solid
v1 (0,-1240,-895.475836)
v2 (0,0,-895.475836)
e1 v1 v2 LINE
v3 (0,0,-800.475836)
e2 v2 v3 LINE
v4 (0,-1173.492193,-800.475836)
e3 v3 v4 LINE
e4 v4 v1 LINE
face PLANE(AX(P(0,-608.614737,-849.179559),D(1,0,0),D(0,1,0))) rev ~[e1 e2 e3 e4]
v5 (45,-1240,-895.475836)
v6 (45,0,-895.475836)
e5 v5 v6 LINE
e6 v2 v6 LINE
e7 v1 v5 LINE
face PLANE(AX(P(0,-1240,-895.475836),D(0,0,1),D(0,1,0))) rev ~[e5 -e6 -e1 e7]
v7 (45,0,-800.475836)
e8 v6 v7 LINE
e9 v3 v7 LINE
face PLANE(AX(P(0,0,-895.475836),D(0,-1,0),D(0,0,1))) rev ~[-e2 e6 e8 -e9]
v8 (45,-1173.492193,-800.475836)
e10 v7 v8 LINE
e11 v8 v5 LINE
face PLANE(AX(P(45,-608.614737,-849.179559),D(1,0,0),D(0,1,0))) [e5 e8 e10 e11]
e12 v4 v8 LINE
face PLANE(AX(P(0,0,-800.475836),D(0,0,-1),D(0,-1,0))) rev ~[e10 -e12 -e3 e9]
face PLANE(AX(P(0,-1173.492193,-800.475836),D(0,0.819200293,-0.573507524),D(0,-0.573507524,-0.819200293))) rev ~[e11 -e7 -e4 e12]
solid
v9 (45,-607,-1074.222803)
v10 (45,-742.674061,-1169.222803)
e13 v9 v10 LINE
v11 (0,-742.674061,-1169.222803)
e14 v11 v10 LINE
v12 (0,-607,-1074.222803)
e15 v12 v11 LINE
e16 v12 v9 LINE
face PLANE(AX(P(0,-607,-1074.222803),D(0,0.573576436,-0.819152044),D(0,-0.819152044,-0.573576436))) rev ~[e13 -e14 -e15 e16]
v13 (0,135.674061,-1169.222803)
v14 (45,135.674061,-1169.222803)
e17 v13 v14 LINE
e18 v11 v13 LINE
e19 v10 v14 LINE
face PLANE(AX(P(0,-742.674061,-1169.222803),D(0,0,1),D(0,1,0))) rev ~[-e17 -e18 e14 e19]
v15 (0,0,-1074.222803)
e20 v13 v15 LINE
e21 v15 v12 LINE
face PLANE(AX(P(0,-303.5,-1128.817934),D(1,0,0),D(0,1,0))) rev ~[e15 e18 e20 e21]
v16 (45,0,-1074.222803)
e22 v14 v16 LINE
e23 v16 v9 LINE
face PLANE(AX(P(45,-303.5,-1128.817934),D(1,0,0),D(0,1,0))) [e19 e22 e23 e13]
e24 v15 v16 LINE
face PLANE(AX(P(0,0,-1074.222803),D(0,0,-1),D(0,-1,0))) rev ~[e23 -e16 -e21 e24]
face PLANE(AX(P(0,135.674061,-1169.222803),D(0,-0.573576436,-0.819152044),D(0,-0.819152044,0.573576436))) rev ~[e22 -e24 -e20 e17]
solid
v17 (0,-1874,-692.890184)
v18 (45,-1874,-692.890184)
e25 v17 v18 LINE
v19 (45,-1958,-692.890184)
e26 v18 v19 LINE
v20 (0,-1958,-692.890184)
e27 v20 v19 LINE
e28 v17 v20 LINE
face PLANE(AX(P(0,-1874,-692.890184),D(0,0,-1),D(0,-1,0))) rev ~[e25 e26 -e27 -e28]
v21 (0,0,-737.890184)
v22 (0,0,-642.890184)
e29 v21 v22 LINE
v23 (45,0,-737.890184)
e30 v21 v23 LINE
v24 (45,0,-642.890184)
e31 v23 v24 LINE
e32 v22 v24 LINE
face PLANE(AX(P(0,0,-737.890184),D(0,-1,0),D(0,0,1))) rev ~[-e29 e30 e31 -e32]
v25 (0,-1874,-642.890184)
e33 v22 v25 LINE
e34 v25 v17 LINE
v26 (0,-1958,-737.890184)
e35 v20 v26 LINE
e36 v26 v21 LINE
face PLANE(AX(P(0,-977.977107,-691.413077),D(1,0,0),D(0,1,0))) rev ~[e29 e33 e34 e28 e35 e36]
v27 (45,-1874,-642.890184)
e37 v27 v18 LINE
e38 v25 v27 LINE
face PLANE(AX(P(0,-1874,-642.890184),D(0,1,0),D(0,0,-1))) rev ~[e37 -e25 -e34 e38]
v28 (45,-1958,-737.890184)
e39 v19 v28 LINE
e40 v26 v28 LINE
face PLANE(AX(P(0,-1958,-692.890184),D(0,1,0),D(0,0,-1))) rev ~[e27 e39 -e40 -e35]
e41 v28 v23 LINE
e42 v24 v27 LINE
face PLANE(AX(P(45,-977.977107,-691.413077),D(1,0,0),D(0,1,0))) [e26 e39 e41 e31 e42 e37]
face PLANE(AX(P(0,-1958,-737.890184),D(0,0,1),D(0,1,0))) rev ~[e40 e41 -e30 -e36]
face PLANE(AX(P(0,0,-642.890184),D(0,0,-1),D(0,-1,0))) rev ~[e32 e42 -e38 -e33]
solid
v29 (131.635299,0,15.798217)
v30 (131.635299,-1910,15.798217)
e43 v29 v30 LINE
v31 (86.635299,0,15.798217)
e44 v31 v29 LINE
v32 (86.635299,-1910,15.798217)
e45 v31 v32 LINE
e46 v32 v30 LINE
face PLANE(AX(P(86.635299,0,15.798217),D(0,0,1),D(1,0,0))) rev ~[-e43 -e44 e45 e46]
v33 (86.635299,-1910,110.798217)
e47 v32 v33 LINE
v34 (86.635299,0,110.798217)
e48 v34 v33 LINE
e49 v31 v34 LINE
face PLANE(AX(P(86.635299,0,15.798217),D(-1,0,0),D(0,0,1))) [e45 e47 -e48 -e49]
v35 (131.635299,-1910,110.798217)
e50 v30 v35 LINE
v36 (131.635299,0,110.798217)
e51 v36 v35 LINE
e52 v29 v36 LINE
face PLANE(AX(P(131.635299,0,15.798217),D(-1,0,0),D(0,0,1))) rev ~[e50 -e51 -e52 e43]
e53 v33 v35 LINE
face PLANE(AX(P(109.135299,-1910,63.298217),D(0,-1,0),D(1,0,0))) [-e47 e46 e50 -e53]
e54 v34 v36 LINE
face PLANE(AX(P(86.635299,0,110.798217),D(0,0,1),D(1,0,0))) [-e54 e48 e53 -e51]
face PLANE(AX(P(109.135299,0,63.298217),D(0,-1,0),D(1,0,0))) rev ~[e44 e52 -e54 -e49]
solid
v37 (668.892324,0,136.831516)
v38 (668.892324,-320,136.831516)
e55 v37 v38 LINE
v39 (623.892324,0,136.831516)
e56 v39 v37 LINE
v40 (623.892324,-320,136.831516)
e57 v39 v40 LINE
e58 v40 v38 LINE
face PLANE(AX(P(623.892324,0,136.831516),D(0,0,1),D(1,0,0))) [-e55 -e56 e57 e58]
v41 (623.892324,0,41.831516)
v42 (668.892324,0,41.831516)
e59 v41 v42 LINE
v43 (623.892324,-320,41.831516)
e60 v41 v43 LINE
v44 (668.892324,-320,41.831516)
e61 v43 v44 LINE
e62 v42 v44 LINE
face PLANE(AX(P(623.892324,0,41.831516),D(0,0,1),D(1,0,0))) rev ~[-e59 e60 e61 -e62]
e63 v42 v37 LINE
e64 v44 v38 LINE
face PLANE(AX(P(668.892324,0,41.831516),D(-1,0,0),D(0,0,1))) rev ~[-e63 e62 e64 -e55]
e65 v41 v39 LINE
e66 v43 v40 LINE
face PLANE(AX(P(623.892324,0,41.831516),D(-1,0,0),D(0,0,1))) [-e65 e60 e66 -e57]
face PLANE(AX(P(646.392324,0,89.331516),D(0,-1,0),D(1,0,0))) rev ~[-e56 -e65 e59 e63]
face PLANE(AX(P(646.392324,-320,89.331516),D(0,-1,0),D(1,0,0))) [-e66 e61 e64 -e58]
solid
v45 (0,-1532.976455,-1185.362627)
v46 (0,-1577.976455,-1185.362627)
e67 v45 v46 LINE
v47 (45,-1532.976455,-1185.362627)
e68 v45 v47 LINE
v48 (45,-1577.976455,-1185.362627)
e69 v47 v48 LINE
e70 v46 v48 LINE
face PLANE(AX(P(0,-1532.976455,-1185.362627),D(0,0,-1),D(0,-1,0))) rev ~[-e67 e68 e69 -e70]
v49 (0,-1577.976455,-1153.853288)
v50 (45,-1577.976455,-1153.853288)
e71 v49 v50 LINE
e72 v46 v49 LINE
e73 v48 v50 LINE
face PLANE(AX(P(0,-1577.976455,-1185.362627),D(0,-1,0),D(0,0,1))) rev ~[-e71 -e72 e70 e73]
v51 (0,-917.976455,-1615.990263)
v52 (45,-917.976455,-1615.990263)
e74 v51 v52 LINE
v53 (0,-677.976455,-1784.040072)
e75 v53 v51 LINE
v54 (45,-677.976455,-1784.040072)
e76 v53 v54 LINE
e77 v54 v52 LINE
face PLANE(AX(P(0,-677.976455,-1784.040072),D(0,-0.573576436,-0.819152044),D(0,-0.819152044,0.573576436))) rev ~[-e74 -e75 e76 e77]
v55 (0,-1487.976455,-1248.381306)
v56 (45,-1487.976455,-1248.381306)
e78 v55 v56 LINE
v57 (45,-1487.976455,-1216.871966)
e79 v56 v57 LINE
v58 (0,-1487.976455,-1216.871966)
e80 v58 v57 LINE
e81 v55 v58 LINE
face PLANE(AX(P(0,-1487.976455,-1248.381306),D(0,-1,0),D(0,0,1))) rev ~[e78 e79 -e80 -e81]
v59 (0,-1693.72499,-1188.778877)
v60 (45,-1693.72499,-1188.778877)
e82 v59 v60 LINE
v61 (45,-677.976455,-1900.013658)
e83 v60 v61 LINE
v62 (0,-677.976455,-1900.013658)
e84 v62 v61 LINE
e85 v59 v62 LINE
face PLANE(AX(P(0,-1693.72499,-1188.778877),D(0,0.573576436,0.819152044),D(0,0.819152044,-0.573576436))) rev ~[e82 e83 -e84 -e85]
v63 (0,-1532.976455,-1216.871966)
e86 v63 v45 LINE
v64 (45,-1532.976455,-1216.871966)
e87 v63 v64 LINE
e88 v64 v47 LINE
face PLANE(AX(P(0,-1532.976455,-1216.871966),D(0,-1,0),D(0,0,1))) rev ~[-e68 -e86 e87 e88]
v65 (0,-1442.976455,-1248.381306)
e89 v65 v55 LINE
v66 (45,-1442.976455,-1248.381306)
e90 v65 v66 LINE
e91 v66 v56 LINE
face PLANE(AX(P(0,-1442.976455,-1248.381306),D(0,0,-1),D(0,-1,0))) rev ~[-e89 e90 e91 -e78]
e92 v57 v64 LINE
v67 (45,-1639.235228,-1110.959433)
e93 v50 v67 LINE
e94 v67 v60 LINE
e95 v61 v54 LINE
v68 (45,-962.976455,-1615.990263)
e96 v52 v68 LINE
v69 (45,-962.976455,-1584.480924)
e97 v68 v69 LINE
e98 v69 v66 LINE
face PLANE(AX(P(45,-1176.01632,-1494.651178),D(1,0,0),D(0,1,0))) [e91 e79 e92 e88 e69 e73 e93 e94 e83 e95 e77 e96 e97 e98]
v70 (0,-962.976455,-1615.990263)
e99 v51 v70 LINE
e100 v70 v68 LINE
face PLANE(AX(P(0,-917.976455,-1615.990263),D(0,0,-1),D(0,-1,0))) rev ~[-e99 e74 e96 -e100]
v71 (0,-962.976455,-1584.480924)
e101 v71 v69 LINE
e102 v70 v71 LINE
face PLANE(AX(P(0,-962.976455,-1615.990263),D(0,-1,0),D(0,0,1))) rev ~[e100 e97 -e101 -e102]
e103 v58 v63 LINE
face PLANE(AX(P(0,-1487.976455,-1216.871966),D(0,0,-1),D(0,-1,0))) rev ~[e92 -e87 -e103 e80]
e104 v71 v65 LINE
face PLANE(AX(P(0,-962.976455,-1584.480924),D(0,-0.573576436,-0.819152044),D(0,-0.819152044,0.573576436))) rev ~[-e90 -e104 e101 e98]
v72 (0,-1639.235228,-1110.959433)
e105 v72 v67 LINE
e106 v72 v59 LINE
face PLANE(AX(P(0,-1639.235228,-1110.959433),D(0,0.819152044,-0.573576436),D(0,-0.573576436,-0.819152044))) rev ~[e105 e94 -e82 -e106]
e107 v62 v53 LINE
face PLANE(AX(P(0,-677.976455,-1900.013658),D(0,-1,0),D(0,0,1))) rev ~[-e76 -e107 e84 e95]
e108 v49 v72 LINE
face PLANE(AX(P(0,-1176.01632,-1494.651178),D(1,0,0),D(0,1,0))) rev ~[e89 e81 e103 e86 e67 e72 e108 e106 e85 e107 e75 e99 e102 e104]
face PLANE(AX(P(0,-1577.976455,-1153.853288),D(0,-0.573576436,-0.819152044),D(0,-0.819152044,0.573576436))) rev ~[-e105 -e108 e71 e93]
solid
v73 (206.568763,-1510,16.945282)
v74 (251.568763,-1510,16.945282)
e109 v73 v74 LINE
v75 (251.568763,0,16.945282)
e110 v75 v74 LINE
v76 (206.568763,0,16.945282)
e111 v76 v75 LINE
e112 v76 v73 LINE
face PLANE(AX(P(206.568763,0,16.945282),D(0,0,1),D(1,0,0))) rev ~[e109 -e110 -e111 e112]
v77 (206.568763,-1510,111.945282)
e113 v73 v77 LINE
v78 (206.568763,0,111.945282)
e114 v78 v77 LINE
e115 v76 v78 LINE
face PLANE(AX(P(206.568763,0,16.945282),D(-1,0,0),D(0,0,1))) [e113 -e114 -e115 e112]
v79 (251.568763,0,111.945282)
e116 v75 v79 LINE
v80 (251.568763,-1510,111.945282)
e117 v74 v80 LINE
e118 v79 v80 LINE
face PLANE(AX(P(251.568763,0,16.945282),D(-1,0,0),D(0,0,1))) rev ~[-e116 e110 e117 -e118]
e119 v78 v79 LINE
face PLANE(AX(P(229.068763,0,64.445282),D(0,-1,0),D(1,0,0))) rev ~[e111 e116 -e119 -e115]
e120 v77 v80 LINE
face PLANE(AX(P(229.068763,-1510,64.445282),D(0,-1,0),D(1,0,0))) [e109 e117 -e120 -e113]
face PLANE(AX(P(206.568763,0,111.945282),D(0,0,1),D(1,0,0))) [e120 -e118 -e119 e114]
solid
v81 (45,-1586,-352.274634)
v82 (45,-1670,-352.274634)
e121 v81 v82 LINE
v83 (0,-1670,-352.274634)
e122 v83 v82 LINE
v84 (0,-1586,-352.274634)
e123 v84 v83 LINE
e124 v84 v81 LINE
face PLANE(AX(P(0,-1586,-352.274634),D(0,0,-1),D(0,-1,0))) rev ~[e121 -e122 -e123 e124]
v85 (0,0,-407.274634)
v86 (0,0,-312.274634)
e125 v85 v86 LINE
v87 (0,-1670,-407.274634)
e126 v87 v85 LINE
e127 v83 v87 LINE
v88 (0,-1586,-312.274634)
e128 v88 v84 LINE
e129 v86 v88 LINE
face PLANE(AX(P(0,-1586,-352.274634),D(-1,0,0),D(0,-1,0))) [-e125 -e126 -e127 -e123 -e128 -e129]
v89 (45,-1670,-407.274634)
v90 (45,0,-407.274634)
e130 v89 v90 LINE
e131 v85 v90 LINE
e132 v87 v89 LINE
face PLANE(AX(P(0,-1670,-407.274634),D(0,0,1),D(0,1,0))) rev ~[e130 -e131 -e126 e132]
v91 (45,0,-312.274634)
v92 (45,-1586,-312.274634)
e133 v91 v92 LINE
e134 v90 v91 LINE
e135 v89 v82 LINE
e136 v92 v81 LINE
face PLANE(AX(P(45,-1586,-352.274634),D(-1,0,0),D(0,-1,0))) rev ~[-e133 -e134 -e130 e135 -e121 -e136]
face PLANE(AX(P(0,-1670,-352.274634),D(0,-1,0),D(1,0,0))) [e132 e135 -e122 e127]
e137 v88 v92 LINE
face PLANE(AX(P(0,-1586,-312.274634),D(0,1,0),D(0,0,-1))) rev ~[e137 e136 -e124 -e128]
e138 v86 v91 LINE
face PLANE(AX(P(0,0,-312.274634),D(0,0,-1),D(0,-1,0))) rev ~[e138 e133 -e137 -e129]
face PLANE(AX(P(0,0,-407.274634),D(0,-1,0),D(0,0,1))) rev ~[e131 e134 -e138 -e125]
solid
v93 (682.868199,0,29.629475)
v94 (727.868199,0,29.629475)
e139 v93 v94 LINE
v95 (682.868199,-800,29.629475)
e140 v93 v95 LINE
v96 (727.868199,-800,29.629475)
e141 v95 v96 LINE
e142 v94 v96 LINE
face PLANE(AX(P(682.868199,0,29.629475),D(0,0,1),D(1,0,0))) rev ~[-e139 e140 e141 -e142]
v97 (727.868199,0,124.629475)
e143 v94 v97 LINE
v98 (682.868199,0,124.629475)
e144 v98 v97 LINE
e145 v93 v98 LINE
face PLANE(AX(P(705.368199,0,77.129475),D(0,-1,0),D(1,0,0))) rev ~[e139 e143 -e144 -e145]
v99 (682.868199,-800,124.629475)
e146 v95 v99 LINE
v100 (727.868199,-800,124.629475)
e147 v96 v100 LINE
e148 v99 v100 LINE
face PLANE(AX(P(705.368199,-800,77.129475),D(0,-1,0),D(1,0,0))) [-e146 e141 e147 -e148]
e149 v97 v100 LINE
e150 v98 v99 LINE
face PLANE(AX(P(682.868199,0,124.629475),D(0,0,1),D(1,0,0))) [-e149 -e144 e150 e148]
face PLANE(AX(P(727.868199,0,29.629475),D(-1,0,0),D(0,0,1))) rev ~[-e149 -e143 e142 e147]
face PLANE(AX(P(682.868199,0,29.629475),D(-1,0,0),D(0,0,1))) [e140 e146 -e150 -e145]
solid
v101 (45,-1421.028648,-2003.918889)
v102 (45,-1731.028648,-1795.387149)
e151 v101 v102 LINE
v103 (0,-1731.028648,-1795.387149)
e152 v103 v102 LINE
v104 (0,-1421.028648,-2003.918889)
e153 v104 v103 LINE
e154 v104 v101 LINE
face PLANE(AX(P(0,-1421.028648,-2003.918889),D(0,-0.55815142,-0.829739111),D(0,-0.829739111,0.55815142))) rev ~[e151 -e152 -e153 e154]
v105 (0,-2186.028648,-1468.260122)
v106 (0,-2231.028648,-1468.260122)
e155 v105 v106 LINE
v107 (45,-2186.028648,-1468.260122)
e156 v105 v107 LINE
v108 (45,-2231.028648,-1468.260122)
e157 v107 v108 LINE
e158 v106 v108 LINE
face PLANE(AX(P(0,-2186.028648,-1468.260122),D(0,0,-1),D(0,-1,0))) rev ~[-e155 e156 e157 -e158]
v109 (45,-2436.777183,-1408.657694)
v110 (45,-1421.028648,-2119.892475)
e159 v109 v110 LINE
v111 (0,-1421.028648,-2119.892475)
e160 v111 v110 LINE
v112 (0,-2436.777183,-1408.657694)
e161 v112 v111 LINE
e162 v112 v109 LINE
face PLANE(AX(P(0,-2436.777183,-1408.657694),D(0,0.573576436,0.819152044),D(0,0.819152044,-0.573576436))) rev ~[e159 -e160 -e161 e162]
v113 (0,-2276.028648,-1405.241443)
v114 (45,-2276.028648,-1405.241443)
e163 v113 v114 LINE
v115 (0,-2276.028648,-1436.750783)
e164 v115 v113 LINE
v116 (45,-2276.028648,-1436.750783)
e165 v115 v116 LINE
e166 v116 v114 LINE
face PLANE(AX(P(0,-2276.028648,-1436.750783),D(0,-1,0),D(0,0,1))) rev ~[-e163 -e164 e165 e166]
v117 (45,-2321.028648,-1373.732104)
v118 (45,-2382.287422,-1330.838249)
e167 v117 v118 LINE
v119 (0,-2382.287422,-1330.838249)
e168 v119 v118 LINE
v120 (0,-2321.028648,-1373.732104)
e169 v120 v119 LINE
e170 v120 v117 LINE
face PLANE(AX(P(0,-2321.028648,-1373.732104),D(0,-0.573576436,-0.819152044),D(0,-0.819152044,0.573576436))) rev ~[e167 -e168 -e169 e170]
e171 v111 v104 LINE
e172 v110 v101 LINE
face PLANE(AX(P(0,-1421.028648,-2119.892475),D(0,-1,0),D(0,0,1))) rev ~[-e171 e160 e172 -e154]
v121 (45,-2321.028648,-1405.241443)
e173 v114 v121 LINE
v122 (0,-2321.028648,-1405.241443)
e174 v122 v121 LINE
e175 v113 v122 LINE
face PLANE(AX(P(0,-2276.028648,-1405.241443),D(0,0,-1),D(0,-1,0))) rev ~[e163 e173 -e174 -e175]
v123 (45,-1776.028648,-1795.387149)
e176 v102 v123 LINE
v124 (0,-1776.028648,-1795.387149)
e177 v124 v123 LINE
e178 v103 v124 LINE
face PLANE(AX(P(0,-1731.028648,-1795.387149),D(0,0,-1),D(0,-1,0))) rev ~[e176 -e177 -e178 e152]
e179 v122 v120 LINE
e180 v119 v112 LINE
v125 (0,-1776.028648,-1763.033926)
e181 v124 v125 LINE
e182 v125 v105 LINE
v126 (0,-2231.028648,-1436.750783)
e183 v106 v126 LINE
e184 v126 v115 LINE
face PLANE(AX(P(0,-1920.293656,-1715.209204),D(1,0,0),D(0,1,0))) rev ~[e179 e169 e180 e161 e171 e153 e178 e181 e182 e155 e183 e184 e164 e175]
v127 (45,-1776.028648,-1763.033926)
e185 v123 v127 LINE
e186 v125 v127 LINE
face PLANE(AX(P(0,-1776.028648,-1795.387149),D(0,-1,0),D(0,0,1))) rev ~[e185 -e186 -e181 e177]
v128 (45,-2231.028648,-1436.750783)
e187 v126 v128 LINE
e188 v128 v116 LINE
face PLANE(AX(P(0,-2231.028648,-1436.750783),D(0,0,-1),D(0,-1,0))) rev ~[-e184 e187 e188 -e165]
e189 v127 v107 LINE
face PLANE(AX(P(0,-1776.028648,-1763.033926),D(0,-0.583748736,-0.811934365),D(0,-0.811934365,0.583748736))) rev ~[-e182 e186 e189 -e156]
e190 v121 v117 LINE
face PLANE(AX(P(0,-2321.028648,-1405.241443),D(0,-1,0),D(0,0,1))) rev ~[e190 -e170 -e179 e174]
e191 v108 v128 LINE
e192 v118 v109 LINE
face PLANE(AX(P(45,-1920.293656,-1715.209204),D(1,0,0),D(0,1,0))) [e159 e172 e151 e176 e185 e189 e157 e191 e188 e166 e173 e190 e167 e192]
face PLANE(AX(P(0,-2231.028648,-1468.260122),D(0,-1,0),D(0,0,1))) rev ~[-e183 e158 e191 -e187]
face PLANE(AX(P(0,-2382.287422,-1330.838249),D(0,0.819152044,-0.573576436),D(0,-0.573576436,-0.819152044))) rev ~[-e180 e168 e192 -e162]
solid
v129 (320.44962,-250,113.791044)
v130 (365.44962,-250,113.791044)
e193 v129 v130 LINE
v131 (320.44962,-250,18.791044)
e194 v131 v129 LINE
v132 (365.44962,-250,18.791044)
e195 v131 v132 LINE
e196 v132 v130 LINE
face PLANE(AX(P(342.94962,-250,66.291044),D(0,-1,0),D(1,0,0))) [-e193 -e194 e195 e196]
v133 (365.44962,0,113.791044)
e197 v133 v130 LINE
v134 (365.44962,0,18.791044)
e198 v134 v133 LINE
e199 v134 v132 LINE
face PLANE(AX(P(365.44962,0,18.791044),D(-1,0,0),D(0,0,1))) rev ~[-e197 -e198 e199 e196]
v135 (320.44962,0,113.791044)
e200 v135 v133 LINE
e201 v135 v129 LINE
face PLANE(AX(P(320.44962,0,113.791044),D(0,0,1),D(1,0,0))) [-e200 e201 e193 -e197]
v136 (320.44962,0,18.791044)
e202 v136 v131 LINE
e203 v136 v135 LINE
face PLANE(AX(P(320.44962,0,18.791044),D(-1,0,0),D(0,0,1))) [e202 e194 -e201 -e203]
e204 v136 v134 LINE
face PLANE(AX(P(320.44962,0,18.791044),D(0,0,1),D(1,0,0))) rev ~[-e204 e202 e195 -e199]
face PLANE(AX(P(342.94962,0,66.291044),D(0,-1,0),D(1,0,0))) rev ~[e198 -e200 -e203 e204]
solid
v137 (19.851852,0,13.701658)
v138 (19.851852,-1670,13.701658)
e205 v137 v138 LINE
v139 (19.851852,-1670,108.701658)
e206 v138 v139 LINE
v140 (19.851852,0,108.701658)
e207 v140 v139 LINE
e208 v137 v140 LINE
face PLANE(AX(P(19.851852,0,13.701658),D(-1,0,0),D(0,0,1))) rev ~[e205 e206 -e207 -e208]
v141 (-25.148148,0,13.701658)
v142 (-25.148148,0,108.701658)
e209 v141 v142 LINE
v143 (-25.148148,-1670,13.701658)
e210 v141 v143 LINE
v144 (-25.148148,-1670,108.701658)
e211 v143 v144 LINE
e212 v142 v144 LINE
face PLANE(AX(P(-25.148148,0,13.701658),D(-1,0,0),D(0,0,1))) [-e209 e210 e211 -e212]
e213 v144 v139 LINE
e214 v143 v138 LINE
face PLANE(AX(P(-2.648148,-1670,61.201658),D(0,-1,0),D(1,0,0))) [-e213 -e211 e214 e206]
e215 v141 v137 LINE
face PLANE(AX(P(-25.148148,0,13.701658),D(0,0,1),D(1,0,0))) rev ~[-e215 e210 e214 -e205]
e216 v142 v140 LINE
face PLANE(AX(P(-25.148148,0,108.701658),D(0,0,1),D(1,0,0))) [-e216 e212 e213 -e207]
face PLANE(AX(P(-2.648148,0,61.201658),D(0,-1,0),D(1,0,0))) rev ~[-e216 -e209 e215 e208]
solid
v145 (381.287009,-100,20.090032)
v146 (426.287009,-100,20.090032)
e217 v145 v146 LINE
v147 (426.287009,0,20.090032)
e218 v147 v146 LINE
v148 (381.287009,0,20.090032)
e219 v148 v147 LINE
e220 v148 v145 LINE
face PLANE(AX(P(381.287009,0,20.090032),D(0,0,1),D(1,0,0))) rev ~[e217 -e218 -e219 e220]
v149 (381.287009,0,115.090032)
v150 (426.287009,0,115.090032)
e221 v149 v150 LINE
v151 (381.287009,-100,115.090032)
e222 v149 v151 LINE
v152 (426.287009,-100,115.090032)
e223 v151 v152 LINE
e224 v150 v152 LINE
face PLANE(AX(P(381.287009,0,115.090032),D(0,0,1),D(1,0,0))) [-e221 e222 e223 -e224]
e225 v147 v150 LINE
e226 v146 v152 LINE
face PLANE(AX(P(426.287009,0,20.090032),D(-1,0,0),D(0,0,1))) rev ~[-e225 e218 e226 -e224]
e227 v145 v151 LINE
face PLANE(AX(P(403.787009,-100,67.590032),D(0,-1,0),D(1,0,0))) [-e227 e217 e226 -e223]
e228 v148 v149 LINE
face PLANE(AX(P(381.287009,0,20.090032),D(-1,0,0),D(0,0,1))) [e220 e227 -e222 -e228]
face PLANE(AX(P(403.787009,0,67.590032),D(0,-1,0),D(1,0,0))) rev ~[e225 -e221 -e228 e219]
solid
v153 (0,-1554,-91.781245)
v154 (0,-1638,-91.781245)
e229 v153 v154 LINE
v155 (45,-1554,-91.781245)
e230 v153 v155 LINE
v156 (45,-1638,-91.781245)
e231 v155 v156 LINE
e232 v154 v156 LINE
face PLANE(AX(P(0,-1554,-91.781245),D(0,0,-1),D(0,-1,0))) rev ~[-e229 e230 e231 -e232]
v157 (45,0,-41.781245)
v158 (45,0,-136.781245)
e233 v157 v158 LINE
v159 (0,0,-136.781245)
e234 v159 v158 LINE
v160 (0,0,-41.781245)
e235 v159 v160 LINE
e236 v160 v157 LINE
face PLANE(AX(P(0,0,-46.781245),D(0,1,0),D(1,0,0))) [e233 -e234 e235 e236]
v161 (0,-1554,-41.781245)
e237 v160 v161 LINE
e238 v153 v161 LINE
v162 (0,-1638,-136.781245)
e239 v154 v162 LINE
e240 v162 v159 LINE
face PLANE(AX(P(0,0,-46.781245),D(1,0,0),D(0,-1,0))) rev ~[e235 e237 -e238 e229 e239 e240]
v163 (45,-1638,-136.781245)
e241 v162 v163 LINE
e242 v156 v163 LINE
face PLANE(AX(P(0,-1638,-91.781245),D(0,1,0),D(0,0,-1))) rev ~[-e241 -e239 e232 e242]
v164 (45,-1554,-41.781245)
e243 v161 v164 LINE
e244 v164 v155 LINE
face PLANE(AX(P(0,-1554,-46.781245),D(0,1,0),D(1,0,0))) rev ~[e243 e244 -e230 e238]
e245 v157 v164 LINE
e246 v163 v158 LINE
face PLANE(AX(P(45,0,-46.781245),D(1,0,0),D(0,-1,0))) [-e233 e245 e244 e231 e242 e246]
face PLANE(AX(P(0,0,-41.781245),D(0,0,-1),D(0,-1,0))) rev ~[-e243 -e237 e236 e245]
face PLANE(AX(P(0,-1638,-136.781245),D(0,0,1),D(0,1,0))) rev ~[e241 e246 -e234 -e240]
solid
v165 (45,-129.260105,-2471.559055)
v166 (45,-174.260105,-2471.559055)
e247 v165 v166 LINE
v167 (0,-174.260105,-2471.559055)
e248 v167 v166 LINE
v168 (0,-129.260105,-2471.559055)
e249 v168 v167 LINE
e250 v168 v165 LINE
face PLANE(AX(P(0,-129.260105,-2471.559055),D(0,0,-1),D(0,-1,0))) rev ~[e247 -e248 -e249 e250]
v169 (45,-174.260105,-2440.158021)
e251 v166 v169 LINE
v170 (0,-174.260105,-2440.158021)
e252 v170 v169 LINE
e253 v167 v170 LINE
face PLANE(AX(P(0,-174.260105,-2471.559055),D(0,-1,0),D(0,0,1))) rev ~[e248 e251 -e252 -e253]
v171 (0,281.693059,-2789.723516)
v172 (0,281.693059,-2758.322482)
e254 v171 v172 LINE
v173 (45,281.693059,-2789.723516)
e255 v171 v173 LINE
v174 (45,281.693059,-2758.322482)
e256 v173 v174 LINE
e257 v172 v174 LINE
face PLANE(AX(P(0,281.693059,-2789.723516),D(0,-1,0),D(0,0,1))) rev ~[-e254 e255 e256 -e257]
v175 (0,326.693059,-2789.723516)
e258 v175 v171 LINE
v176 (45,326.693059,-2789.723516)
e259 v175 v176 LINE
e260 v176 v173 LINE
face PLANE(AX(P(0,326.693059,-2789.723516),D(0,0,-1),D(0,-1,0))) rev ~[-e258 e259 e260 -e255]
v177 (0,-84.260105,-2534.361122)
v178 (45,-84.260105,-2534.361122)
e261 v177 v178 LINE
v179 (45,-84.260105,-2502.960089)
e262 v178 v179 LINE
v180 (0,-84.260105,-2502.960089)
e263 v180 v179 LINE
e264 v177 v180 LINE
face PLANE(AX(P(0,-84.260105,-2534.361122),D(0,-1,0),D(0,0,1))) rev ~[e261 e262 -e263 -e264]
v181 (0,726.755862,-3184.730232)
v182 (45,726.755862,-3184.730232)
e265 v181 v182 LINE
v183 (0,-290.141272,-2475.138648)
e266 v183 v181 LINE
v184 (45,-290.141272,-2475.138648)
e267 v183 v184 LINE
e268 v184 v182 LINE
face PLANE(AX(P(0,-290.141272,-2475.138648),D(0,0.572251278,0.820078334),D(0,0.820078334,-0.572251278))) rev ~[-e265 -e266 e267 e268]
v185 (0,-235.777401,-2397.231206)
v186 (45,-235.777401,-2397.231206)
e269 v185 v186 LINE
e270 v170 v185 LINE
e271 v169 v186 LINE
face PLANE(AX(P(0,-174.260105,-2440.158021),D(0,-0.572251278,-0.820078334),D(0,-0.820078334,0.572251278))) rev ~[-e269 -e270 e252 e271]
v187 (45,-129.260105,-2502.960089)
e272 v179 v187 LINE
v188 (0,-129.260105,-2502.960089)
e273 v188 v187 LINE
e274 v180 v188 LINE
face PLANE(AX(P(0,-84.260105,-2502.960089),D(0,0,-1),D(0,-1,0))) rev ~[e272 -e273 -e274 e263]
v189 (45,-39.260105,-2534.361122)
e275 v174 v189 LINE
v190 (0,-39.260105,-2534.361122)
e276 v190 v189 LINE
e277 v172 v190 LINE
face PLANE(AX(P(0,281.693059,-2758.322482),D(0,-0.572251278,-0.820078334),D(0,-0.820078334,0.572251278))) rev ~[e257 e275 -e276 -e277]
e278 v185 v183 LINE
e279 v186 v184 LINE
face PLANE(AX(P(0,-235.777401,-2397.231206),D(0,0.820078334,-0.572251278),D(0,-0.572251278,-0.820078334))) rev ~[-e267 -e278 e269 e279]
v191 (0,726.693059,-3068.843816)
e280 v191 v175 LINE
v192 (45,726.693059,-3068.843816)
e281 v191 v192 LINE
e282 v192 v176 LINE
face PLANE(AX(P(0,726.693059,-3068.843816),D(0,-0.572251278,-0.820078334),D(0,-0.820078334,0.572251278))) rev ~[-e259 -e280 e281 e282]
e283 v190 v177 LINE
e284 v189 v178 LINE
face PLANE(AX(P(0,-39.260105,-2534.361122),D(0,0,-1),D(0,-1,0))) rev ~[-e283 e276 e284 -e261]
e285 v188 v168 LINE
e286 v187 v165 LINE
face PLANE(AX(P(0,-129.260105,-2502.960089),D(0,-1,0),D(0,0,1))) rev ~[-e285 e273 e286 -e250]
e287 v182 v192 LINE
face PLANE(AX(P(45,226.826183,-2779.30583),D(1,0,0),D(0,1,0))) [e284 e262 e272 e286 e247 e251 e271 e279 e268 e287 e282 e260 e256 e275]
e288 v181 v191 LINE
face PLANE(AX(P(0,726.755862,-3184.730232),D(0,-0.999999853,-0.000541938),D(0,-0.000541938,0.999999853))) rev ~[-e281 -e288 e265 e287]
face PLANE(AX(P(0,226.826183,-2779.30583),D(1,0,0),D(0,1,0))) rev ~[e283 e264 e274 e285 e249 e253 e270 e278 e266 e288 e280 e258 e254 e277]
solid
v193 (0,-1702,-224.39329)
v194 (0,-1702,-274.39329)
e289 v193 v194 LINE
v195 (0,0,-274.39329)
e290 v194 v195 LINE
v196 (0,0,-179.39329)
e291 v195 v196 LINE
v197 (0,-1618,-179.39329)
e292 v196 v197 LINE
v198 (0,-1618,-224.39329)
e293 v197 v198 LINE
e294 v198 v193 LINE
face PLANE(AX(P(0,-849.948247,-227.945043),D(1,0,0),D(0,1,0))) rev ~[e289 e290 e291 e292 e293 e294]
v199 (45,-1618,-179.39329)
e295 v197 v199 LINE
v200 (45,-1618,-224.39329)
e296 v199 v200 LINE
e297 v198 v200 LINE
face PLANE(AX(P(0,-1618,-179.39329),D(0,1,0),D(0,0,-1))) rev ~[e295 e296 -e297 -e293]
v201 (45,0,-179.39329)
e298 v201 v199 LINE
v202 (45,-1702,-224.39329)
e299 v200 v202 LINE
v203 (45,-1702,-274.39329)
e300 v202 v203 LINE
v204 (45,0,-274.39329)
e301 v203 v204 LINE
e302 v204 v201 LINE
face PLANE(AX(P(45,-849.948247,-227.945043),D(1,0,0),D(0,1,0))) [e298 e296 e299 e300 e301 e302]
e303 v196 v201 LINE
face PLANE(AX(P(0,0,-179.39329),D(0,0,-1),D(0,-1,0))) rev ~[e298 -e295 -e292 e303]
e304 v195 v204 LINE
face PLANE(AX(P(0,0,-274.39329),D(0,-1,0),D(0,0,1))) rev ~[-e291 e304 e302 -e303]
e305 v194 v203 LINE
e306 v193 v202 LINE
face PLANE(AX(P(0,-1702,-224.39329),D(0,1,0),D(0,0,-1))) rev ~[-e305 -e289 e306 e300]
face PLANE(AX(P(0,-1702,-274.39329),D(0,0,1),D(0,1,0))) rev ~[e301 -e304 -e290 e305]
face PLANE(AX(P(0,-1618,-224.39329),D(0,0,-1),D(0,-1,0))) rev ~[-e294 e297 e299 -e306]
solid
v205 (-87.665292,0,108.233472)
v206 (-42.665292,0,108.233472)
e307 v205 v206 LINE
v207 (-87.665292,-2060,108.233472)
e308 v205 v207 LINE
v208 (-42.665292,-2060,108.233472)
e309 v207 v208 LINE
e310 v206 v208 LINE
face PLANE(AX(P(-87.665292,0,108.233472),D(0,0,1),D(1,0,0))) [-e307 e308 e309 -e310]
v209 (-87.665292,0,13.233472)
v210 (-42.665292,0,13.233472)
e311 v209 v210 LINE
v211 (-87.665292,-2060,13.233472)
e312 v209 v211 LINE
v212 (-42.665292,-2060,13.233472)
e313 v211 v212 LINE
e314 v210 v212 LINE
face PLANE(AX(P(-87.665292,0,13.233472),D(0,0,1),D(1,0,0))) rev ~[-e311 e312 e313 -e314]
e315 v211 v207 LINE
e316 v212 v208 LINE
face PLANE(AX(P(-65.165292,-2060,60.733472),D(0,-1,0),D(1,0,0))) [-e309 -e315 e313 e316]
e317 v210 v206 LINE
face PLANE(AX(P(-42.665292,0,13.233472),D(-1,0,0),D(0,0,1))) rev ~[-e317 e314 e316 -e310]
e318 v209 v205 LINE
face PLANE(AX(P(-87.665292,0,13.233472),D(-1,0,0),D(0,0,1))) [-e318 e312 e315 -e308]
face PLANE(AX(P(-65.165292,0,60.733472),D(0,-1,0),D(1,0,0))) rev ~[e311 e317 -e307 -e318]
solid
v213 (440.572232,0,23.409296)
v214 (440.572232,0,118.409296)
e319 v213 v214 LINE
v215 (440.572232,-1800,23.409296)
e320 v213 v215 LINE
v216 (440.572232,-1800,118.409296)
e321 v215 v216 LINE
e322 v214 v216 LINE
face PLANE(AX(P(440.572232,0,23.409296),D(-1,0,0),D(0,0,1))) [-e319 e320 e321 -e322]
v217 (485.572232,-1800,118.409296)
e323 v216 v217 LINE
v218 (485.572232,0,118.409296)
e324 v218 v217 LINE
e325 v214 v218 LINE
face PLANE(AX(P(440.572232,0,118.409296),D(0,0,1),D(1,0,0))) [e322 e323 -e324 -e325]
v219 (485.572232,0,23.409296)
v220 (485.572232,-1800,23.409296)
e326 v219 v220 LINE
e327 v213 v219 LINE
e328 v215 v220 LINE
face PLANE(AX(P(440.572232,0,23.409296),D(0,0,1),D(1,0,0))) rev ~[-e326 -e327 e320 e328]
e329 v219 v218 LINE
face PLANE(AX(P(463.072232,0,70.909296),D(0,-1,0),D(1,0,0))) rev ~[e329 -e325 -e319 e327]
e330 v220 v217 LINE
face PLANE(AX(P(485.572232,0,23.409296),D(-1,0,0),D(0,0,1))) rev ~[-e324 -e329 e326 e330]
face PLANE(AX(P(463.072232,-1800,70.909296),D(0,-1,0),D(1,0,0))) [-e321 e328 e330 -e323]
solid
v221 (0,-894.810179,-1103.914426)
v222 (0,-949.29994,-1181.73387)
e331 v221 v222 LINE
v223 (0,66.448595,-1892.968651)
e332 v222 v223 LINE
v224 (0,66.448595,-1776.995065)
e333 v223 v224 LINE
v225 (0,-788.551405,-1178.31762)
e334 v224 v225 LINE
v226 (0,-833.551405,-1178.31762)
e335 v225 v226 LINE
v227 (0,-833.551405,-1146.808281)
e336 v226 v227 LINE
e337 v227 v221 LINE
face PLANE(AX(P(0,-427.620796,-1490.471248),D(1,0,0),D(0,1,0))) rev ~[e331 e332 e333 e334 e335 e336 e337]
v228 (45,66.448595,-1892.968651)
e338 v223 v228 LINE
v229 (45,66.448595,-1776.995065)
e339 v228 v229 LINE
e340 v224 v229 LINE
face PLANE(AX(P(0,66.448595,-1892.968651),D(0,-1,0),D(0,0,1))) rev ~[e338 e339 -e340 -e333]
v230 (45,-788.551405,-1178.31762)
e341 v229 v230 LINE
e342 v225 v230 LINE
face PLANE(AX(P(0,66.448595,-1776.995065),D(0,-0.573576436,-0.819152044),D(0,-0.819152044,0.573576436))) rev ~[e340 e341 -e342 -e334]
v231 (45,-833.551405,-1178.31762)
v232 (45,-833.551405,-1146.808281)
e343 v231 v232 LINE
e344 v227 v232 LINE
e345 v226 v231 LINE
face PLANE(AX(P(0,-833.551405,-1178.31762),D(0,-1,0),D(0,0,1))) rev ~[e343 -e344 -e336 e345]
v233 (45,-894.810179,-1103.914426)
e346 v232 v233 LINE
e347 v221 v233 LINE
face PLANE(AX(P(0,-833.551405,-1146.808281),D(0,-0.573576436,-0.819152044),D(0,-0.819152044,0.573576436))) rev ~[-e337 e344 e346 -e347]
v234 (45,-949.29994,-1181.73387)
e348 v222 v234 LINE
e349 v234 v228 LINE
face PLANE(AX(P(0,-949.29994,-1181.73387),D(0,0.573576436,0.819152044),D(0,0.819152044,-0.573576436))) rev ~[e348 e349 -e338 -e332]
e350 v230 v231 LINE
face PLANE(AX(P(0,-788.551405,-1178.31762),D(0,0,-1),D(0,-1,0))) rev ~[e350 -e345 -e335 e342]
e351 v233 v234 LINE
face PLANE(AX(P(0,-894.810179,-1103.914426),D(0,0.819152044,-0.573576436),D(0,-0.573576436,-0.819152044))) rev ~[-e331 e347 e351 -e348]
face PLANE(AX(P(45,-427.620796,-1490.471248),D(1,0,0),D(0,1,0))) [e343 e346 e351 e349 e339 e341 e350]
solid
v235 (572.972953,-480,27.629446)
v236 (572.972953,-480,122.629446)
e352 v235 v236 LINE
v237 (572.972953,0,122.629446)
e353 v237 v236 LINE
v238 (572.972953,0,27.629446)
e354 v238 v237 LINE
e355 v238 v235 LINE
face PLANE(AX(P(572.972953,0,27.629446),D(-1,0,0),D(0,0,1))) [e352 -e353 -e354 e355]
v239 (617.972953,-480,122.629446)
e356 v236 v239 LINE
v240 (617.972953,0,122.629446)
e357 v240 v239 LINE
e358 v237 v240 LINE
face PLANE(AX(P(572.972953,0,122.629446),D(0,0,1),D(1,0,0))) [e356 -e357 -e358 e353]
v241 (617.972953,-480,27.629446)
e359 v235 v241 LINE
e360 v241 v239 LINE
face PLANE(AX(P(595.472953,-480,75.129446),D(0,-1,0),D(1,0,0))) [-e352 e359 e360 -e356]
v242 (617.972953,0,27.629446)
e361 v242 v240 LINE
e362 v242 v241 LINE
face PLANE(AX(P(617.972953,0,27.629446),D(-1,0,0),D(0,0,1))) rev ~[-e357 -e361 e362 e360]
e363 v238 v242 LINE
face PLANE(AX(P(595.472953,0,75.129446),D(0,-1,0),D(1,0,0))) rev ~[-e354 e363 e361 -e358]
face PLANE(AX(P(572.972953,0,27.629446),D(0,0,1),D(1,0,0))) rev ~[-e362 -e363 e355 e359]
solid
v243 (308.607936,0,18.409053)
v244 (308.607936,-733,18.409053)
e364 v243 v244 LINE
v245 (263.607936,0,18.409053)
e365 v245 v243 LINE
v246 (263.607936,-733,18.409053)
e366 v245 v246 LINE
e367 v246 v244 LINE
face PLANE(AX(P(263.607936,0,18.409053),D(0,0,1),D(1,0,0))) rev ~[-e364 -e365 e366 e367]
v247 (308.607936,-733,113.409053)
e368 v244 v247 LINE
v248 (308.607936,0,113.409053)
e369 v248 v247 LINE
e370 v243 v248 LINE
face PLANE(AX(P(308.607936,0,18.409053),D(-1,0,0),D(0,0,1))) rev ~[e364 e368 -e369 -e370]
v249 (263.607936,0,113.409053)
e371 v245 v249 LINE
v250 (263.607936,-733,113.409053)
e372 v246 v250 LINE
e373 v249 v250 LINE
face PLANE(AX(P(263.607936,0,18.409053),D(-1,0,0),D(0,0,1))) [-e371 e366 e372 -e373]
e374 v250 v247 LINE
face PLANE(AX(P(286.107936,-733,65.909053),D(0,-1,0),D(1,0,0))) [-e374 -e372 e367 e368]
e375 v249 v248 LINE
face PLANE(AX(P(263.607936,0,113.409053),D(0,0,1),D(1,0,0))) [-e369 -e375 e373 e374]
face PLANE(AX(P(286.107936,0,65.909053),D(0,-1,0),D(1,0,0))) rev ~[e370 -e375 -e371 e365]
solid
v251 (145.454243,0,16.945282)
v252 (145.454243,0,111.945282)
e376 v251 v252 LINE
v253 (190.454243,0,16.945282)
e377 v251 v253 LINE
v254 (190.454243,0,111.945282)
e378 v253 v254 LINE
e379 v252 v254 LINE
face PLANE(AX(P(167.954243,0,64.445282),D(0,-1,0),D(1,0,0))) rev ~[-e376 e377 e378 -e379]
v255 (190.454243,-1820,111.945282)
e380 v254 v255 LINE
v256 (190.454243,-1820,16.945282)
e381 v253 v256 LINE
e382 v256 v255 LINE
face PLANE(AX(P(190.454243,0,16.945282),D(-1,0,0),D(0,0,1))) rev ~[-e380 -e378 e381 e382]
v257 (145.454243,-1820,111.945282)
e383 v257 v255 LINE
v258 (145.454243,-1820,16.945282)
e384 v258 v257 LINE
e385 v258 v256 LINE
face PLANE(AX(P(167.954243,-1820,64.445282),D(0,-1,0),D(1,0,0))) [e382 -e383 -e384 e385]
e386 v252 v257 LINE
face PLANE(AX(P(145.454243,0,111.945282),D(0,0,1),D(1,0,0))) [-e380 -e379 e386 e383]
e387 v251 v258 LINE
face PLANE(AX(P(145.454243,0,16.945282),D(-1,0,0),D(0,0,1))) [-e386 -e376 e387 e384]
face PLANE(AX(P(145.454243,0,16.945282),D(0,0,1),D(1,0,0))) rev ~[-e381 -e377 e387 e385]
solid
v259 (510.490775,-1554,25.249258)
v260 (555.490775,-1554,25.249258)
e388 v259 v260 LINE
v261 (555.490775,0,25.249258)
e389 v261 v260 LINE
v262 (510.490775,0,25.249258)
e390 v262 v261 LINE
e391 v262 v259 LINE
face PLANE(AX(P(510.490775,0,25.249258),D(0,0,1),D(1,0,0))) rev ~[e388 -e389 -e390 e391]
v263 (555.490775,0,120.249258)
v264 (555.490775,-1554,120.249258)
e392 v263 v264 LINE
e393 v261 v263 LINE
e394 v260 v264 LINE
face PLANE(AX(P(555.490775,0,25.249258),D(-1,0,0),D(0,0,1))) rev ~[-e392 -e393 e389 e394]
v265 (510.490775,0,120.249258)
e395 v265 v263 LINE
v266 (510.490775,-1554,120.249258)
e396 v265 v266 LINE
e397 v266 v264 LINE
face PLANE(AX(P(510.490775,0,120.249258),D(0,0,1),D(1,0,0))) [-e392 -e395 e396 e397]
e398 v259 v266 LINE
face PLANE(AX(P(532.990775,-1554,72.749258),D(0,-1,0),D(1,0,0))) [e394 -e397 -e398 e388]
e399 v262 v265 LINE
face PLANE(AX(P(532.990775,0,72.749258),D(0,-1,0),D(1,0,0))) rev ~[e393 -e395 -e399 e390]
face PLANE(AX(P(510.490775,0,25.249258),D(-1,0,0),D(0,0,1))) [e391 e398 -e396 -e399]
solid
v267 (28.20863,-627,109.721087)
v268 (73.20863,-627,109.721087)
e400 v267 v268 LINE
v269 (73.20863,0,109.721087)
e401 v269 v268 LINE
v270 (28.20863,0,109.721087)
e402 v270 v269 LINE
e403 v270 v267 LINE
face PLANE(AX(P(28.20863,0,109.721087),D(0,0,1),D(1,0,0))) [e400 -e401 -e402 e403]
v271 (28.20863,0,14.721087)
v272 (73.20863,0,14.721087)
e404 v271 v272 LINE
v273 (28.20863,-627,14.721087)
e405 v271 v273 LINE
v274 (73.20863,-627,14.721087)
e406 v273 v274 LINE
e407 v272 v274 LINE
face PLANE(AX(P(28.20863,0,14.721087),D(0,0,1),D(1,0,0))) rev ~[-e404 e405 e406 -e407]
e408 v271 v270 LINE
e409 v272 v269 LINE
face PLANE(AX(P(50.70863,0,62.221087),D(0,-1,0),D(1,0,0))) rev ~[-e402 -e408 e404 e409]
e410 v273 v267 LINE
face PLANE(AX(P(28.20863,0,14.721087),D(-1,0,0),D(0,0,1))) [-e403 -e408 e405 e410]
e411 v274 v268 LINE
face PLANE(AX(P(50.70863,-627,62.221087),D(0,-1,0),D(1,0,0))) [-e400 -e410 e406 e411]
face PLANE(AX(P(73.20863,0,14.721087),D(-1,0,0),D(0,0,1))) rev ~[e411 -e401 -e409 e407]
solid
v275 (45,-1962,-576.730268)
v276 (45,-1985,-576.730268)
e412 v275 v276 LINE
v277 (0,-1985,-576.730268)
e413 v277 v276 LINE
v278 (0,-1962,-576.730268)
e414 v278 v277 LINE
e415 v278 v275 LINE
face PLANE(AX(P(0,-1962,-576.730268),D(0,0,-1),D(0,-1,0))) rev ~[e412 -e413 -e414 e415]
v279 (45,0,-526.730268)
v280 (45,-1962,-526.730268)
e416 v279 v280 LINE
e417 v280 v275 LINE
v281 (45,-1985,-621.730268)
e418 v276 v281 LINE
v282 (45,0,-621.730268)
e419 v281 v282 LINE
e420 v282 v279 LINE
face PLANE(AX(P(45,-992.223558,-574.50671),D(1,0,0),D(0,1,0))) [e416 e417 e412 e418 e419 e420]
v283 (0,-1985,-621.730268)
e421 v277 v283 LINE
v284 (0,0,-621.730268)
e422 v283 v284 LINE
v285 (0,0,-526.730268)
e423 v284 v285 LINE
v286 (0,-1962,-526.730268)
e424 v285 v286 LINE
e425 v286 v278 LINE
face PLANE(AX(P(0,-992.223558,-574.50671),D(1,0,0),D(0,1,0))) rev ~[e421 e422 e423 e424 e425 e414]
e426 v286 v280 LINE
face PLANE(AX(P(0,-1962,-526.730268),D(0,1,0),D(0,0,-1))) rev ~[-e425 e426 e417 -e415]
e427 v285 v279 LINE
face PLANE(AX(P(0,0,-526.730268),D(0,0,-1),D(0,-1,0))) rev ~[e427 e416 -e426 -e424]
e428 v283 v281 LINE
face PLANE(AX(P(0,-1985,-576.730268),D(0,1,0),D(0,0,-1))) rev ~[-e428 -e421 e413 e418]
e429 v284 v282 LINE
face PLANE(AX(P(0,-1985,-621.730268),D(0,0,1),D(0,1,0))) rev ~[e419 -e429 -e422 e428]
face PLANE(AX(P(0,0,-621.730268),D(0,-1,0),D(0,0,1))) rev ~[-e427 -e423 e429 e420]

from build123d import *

# Parameters (mm, degrees)
F0_W      = 45
F0_H      = 95
F1_DEPTH  = 2060
F2_W      = 45
F2_H      = 95
F3_DEPTH  = 1670
F4_W      = 45
F4_H      = 95
F5_DEPTH  = 627
F6_W      = 45
F6_H      = 95
F7_DEPTH  = 1910
F8_W      = 45
F8_H      = 95
F10_DEPTH = 1820
F9_W      = 45
F9_H      = 95
F11_DEPTH = 1510
F12_W     = 45
F12_H     = 95
F14_DEPTH = 733
F13_W     = 45
F13_H     = 95
F15_DEPTH = 250
F16_W     = 45
F16_H     = 95
F17_DEPTH = 100
F18_W     = 45
F18_H     = 95
F20_DEPTH = 1800
F19_W     = 45
F19_H     = 95
F21_DEPTH = 1554
F23_DEPTH = 45
F25_DEPTH = 45
F26_DEPTH = 5
F27_DEPTH = 5
F29_DEPTH = 45
F31_DEPTH = 45
F32_W     = 45
F32_H     = 95
F33_DEPTH = 480
F34_DEPTH = 5
F35_DEPTH = 5
F37_DEPTH = 45
F38_W     = 45
F38_H     = 95
F40_DEPTH = 320
F39_W     = 45
F39_H     = 95
F41_DEPTH = 800
F43_DEPTH = 45
F46_DEPTH = 45
F47_DEPTH = 45
F49_DEPTH = 45


with BuildPart() as f1:
    # F0 (on Front) → F1 (new body)
    with BuildSketch(Plane.XZ):
        with Locations((-65.1652917266, 60.7334716618)):
            Rectangle(F0_W, F0_H)
    extrude(amount=F1_DEPTH)


with BuildPart() as f3:
    # F2 (on Front) → F3 (new body)
    with BuildSketch(Plane.XZ):
        with Locations((-2.6481477171, 61.2016577646)):
            Rectangle(F2_W, F2_H)
    extrude(amount=F3_DEPTH)


with BuildPart() as f5:
    # F4 (on Front) → F5 (new body)
    with BuildSketch(Plane.XZ):
        with Locations((50.708630085, 62.2210871801)):
            Rectangle(F4_W, F4_H)
    extrude(amount=F5_DEPTH)


with BuildPart() as f7:
    # F6 (on Front) → F7 (new body)
    with BuildSketch(Plane.XZ):
        with Locations((109.135299027, 63.2982166857)):
            Rectangle(F6_W, F6_H)
    extrude(amount=F7_DEPTH)


with BuildPart() as f10:
    # F8 (on Front) → F10 (new body)
    with BuildSketch(Plane.XZ):
        with Locations((167.9542428255, 64.4452819973)):
            Rectangle(F8_W, F8_H)
    extrude(amount=F10_DEPTH)


with BuildPart() as f11:
    # F9 (on Front) → F11 (new body)
    with BuildSketch(Plane.XZ):
        with Locations((229.06876266, 64.4452819973)):
            Rectangle(F9_W, F9_H)
    extrude(amount=F11_DEPTH)


with BuildPart() as f14:
    # F12 (on Front) → F14 (new body)
    with BuildSketch(Plane.XZ):
        with Locations((286.1079359055, 65.9090528637)):
            Rectangle(F12_W, F12_H)
    extrude(amount=F14_DEPTH)


with BuildPart() as f15:
    # F13 (on Front) → F15 (new body)
    with BuildSketch(Plane.XZ):
        with Locations((342.9496204853, 66.2910441309)):
            Rectangle(F13_W, F13_H)
    extrude(amount=F15_DEPTH)


with BuildPart() as f17:
    # F16 (on Front) → F17 (new body)
    with BuildSketch(Plane.XZ):
        with Locations((403.7870085239, 67.5900323689)):
            Rectangle(F16_W, F16_H)
    extrude(amount=F17_DEPTH)


with BuildPart() as f20:
    # F18 (on Front) → F20 (new body)
    with BuildSketch(Plane.XZ):
        with Locations((463.072232008, 70.9092958272)):
            Rectangle(F18_W, F18_H)
    extrude(amount=F20_DEPTH)


with BuildPart() as f21:
    # F19 (on Front) → F21 (new body)
    with BuildSketch(Plane.XZ):
        with Locations((532.9907751083, 72.7492576838)):
            Rectangle(F19_W, F19_H)
    extrude(amount=F21_DEPTH)


with BuildPart() as f23:
    # F22 (on Right) → F23 (new body)
    with BuildSketch(Plane.YZ):
        Polygon((-1638, -136.78124547), (0, -136.78124547), (0, -46.78124547), (-1554, -46.78124547), (-1554, -91.78124547), (-1638, -91.78124547), align=None)
    extrude(amount=F23_DEPTH)

    # F26 (add): a face of the model
    f26_faces = [f23.faces().sort_by_distance(p)[0] for p in [
        (22.5, -777, -46.78124547),
    ]]
    extrude(f26_faces, amount=F26_DEPTH)


with BuildPart() as f25:
    # F24 (on Right) → F25 (new body)
    with BuildSketch(Plane.YZ):
        Polygon((0, -407.274633646), (0, -312.274633646), (-1586, -312.274633646), (-1586, -357.274633646), (-1670, -357.274633646), (-1670, -407.274633646), align=None)
    extrude(amount=F25_DEPTH)

    # F27 (add): a face of the model
    f27_faces = [f25.faces().sort_by_distance(p)[0] for p in [
        (22.5, -1628, -357.274633646),
    ]]
    extrude(f27_faces, amount=F27_DEPTH)

    # F34 (add): a face of the model
    f34_faces = [f25.faces().sort_by_distance(p)[0] for p in [
        (22.5, -1628, -352.274633646),
    ]]
    extrude(f34_faces, amount=-F34_DEPTH)

    # F35 (add): a face of the model
    f35_faces = [f25.faces().sort_by_distance(p)[0] for p in [
        (22.5, -1628, -352.274633646),
    ]]
    extrude(f35_faces, amount=-F35_DEPTH)


with BuildPart() as f29:
    # F28 (on Right) → F29 (new body)
    with BuildSketch(Plane.YZ):
        Polygon((0, -274.3932902813), (0, -179.3932902813), (-1618, -179.3932902813), (-1618, -224.3932902813), (-1702, -224.3932902813), (-1702, -274.3932902813), align=None)
    extrude(amount=F29_DEPTH)


with BuildPart() as f31:
    # F30 (on Right) → F31 (new body)
    with BuildSketch(Plane.YZ):
        Polygon((0, -621.7302680016), (0, -526.7302680016), (-1962, -526.7302680016), (-1962, -576.7302680016), (-1985, -576.7302680016), (-1985, -621.7302680016), align=None)
    extrude(amount=F31_DEPTH)


with BuildPart() as f33:
    # F32 (on Front) → F33 (new body)
    with BuildSketch(Plane.XZ):
        with Locations((595.4729533195, 75.1294462383)):
            Rectangle(F32_W, F32_H)
    extrude(amount=F33_DEPTH)


with BuildPart() as f37:
    # F36 (on Right) → F37 (new body)
    with BuildSketch(Plane.YZ):
        Polygon((0, -737.8901839256), (0, -642.8901839256), (-1874, -642.8901839256), (-1874, -692.8901839256), (-1958, -692.8901839256), (-1958, -737.8901839256), align=None)
    extrude(amount=F37_DEPTH)


with BuildPart() as f40:
    # F38 (on Front) → F40 (new body)
    with BuildSketch(Plane.XZ):
        with Locations((646.3923239708, 89.3315157294)):
            Rectangle(F38_W, F38_H)
    extrude(amount=F40_DEPTH)


with BuildPart() as f41:
    # F39 (on Front) → F41 (new body)
    with BuildSketch(Plane.XZ):
        with Locations((705.3681993484, 77.1294745058)):
            Rectangle(F39_W, F39_H)
    extrude(amount=F41_DEPTH)


with BuildPart() as f43:
    # F42 (on Right) → F43 (new body)
    with BuildSketch(Plane.YZ):
        Polygon((0, -895.4758358002), (0, -800.4758358002), (-1173.492193222, -800.4758358002), (-1240, -895.4758358002), align=None)
    extrude(amount=F43_DEPTH)


with BuildPart() as f46:
    # F45 (on Right) → F46 (new body)
    with BuildSketch(Plane.YZ):
        Polygon((0, -1074.2228031158), (-607, -1074.2228031158), (-742.6740606405, -1169.2228031158), (-607, -1169.2228031158), (135.6740606405, -1169.2228031158), align=None)
    extrude(amount=F46_DEPTH)


with BuildPart() as f47:
    # F44 (on Right) → F47 (new body)
    with BuildSketch(Plane.YZ):
        Polygon((-894.810178936, -1103.9144259572), (-949.2999403894, -1181.7338701647), (66.448594529, -1892.96865124), (66.448594529, -1776.9950653076), (-173.551405471, -1608.9452561373), (-218.551405471, -1577.4359169179), (-788.551405471, -1178.3176201383), (-833.551405471, -1178.3176201383), (-833.551405471, -1146.8082809189), align=None)
    extrude(amount=F47_DEPTH)


with BuildPart() as f47b:
    # F44 (on Right) → F47, piece 2 (new body)
    with BuildSketch(Plane.YZ):
        Polygon((-1639.2352284377, -1110.9594330508), (-1693.7249898911, -1188.7788772583), (-677.9764549727, -1900.0136583336), (-677.9764549727, -1784.0400724013), (-917.9764549727, -1615.9902632309), (-962.9764549727, -1615.9902632309), (-962.9764549727, -1584.4809240115), (-1442.9764549727, -1248.3813056708), (-1487.9764549727, -1248.3813056708), (-1487.9764549727, -1216.8719664514), (-1532.9764549727, -1216.8719664514), (-1532.9764549727, -1185.362627232), (-1577.9764549727, -1185.362627232), (-1577.9764549727, -1153.8532880125), align=None)
    extrude(amount=F47_DEPTH)


with BuildPart() as f47c:
    # F44 (on Right) → F47, piece 3 (new body)
    with BuildSketch(Plane.YZ):
        Polygon((-2382.2874218827, -1330.8382493139), (-2436.777183336, -1408.6576935213), (-1421.0286484177, -2119.8924745966), (-1421.0286484177, -2003.9188886643), (-1731.0286484177, -1795.3871488571), (-1776.0286484177, -1795.3871488571), (-1776.0286484177, -1763.0339264142), (-2186.0286484177, -1468.2601219338), (-2231.0286484177, -1468.2601219338), (-2231.0286484177, -1436.7507827144), (-2276.0286484177, -1436.7507827144), (-2276.0286484177, -1405.241443495), (-2321.0286484177, -1405.241443495), (-2321.0286484177, -1373.7321042755), align=None)
    extrude(amount=F47_DEPTH)


with BuildPart() as f49:
    # F48 (on Right) → F49 (new body)
    with BuildSketch(Plane.YZ):
        Polygon((-290.1412724141, -2475.1386475671), (726.7558623421, -3184.7302324415), (726.6930590229, -3068.8438161276), (326.6930590229, -2789.7235155106), (281.6930590229, -2789.7235155106), (281.6930590229, -2758.3224816911), (-39.2601053822, -2534.3611223593), (-84.2601053822, -2534.3611223593), (-84.2601053822, -2502.9600885399), (-129.2601053822, -2502.9600885399), (-129.2601053822, -2471.5590547205), (-174.2601053822, -2471.5590547205), (-174.2601053822, -2440.1580209011), (-235.7774009923, -2397.2312057915), align=None)
    extrude(amount=F49_DEPTH)


solid = Compound([f1.part, f3.part, f5.part, f7.part, f10.part, f11.part, f14.part, f15.part, f17.part, f20.part, f21.part, f23.part, f25.part, f29.part, f31.part, f33.part, f37.part, f40.part, f41.part, f43.part, f46.part, f47.part, f47b.part, f47c.part, f49.part])
